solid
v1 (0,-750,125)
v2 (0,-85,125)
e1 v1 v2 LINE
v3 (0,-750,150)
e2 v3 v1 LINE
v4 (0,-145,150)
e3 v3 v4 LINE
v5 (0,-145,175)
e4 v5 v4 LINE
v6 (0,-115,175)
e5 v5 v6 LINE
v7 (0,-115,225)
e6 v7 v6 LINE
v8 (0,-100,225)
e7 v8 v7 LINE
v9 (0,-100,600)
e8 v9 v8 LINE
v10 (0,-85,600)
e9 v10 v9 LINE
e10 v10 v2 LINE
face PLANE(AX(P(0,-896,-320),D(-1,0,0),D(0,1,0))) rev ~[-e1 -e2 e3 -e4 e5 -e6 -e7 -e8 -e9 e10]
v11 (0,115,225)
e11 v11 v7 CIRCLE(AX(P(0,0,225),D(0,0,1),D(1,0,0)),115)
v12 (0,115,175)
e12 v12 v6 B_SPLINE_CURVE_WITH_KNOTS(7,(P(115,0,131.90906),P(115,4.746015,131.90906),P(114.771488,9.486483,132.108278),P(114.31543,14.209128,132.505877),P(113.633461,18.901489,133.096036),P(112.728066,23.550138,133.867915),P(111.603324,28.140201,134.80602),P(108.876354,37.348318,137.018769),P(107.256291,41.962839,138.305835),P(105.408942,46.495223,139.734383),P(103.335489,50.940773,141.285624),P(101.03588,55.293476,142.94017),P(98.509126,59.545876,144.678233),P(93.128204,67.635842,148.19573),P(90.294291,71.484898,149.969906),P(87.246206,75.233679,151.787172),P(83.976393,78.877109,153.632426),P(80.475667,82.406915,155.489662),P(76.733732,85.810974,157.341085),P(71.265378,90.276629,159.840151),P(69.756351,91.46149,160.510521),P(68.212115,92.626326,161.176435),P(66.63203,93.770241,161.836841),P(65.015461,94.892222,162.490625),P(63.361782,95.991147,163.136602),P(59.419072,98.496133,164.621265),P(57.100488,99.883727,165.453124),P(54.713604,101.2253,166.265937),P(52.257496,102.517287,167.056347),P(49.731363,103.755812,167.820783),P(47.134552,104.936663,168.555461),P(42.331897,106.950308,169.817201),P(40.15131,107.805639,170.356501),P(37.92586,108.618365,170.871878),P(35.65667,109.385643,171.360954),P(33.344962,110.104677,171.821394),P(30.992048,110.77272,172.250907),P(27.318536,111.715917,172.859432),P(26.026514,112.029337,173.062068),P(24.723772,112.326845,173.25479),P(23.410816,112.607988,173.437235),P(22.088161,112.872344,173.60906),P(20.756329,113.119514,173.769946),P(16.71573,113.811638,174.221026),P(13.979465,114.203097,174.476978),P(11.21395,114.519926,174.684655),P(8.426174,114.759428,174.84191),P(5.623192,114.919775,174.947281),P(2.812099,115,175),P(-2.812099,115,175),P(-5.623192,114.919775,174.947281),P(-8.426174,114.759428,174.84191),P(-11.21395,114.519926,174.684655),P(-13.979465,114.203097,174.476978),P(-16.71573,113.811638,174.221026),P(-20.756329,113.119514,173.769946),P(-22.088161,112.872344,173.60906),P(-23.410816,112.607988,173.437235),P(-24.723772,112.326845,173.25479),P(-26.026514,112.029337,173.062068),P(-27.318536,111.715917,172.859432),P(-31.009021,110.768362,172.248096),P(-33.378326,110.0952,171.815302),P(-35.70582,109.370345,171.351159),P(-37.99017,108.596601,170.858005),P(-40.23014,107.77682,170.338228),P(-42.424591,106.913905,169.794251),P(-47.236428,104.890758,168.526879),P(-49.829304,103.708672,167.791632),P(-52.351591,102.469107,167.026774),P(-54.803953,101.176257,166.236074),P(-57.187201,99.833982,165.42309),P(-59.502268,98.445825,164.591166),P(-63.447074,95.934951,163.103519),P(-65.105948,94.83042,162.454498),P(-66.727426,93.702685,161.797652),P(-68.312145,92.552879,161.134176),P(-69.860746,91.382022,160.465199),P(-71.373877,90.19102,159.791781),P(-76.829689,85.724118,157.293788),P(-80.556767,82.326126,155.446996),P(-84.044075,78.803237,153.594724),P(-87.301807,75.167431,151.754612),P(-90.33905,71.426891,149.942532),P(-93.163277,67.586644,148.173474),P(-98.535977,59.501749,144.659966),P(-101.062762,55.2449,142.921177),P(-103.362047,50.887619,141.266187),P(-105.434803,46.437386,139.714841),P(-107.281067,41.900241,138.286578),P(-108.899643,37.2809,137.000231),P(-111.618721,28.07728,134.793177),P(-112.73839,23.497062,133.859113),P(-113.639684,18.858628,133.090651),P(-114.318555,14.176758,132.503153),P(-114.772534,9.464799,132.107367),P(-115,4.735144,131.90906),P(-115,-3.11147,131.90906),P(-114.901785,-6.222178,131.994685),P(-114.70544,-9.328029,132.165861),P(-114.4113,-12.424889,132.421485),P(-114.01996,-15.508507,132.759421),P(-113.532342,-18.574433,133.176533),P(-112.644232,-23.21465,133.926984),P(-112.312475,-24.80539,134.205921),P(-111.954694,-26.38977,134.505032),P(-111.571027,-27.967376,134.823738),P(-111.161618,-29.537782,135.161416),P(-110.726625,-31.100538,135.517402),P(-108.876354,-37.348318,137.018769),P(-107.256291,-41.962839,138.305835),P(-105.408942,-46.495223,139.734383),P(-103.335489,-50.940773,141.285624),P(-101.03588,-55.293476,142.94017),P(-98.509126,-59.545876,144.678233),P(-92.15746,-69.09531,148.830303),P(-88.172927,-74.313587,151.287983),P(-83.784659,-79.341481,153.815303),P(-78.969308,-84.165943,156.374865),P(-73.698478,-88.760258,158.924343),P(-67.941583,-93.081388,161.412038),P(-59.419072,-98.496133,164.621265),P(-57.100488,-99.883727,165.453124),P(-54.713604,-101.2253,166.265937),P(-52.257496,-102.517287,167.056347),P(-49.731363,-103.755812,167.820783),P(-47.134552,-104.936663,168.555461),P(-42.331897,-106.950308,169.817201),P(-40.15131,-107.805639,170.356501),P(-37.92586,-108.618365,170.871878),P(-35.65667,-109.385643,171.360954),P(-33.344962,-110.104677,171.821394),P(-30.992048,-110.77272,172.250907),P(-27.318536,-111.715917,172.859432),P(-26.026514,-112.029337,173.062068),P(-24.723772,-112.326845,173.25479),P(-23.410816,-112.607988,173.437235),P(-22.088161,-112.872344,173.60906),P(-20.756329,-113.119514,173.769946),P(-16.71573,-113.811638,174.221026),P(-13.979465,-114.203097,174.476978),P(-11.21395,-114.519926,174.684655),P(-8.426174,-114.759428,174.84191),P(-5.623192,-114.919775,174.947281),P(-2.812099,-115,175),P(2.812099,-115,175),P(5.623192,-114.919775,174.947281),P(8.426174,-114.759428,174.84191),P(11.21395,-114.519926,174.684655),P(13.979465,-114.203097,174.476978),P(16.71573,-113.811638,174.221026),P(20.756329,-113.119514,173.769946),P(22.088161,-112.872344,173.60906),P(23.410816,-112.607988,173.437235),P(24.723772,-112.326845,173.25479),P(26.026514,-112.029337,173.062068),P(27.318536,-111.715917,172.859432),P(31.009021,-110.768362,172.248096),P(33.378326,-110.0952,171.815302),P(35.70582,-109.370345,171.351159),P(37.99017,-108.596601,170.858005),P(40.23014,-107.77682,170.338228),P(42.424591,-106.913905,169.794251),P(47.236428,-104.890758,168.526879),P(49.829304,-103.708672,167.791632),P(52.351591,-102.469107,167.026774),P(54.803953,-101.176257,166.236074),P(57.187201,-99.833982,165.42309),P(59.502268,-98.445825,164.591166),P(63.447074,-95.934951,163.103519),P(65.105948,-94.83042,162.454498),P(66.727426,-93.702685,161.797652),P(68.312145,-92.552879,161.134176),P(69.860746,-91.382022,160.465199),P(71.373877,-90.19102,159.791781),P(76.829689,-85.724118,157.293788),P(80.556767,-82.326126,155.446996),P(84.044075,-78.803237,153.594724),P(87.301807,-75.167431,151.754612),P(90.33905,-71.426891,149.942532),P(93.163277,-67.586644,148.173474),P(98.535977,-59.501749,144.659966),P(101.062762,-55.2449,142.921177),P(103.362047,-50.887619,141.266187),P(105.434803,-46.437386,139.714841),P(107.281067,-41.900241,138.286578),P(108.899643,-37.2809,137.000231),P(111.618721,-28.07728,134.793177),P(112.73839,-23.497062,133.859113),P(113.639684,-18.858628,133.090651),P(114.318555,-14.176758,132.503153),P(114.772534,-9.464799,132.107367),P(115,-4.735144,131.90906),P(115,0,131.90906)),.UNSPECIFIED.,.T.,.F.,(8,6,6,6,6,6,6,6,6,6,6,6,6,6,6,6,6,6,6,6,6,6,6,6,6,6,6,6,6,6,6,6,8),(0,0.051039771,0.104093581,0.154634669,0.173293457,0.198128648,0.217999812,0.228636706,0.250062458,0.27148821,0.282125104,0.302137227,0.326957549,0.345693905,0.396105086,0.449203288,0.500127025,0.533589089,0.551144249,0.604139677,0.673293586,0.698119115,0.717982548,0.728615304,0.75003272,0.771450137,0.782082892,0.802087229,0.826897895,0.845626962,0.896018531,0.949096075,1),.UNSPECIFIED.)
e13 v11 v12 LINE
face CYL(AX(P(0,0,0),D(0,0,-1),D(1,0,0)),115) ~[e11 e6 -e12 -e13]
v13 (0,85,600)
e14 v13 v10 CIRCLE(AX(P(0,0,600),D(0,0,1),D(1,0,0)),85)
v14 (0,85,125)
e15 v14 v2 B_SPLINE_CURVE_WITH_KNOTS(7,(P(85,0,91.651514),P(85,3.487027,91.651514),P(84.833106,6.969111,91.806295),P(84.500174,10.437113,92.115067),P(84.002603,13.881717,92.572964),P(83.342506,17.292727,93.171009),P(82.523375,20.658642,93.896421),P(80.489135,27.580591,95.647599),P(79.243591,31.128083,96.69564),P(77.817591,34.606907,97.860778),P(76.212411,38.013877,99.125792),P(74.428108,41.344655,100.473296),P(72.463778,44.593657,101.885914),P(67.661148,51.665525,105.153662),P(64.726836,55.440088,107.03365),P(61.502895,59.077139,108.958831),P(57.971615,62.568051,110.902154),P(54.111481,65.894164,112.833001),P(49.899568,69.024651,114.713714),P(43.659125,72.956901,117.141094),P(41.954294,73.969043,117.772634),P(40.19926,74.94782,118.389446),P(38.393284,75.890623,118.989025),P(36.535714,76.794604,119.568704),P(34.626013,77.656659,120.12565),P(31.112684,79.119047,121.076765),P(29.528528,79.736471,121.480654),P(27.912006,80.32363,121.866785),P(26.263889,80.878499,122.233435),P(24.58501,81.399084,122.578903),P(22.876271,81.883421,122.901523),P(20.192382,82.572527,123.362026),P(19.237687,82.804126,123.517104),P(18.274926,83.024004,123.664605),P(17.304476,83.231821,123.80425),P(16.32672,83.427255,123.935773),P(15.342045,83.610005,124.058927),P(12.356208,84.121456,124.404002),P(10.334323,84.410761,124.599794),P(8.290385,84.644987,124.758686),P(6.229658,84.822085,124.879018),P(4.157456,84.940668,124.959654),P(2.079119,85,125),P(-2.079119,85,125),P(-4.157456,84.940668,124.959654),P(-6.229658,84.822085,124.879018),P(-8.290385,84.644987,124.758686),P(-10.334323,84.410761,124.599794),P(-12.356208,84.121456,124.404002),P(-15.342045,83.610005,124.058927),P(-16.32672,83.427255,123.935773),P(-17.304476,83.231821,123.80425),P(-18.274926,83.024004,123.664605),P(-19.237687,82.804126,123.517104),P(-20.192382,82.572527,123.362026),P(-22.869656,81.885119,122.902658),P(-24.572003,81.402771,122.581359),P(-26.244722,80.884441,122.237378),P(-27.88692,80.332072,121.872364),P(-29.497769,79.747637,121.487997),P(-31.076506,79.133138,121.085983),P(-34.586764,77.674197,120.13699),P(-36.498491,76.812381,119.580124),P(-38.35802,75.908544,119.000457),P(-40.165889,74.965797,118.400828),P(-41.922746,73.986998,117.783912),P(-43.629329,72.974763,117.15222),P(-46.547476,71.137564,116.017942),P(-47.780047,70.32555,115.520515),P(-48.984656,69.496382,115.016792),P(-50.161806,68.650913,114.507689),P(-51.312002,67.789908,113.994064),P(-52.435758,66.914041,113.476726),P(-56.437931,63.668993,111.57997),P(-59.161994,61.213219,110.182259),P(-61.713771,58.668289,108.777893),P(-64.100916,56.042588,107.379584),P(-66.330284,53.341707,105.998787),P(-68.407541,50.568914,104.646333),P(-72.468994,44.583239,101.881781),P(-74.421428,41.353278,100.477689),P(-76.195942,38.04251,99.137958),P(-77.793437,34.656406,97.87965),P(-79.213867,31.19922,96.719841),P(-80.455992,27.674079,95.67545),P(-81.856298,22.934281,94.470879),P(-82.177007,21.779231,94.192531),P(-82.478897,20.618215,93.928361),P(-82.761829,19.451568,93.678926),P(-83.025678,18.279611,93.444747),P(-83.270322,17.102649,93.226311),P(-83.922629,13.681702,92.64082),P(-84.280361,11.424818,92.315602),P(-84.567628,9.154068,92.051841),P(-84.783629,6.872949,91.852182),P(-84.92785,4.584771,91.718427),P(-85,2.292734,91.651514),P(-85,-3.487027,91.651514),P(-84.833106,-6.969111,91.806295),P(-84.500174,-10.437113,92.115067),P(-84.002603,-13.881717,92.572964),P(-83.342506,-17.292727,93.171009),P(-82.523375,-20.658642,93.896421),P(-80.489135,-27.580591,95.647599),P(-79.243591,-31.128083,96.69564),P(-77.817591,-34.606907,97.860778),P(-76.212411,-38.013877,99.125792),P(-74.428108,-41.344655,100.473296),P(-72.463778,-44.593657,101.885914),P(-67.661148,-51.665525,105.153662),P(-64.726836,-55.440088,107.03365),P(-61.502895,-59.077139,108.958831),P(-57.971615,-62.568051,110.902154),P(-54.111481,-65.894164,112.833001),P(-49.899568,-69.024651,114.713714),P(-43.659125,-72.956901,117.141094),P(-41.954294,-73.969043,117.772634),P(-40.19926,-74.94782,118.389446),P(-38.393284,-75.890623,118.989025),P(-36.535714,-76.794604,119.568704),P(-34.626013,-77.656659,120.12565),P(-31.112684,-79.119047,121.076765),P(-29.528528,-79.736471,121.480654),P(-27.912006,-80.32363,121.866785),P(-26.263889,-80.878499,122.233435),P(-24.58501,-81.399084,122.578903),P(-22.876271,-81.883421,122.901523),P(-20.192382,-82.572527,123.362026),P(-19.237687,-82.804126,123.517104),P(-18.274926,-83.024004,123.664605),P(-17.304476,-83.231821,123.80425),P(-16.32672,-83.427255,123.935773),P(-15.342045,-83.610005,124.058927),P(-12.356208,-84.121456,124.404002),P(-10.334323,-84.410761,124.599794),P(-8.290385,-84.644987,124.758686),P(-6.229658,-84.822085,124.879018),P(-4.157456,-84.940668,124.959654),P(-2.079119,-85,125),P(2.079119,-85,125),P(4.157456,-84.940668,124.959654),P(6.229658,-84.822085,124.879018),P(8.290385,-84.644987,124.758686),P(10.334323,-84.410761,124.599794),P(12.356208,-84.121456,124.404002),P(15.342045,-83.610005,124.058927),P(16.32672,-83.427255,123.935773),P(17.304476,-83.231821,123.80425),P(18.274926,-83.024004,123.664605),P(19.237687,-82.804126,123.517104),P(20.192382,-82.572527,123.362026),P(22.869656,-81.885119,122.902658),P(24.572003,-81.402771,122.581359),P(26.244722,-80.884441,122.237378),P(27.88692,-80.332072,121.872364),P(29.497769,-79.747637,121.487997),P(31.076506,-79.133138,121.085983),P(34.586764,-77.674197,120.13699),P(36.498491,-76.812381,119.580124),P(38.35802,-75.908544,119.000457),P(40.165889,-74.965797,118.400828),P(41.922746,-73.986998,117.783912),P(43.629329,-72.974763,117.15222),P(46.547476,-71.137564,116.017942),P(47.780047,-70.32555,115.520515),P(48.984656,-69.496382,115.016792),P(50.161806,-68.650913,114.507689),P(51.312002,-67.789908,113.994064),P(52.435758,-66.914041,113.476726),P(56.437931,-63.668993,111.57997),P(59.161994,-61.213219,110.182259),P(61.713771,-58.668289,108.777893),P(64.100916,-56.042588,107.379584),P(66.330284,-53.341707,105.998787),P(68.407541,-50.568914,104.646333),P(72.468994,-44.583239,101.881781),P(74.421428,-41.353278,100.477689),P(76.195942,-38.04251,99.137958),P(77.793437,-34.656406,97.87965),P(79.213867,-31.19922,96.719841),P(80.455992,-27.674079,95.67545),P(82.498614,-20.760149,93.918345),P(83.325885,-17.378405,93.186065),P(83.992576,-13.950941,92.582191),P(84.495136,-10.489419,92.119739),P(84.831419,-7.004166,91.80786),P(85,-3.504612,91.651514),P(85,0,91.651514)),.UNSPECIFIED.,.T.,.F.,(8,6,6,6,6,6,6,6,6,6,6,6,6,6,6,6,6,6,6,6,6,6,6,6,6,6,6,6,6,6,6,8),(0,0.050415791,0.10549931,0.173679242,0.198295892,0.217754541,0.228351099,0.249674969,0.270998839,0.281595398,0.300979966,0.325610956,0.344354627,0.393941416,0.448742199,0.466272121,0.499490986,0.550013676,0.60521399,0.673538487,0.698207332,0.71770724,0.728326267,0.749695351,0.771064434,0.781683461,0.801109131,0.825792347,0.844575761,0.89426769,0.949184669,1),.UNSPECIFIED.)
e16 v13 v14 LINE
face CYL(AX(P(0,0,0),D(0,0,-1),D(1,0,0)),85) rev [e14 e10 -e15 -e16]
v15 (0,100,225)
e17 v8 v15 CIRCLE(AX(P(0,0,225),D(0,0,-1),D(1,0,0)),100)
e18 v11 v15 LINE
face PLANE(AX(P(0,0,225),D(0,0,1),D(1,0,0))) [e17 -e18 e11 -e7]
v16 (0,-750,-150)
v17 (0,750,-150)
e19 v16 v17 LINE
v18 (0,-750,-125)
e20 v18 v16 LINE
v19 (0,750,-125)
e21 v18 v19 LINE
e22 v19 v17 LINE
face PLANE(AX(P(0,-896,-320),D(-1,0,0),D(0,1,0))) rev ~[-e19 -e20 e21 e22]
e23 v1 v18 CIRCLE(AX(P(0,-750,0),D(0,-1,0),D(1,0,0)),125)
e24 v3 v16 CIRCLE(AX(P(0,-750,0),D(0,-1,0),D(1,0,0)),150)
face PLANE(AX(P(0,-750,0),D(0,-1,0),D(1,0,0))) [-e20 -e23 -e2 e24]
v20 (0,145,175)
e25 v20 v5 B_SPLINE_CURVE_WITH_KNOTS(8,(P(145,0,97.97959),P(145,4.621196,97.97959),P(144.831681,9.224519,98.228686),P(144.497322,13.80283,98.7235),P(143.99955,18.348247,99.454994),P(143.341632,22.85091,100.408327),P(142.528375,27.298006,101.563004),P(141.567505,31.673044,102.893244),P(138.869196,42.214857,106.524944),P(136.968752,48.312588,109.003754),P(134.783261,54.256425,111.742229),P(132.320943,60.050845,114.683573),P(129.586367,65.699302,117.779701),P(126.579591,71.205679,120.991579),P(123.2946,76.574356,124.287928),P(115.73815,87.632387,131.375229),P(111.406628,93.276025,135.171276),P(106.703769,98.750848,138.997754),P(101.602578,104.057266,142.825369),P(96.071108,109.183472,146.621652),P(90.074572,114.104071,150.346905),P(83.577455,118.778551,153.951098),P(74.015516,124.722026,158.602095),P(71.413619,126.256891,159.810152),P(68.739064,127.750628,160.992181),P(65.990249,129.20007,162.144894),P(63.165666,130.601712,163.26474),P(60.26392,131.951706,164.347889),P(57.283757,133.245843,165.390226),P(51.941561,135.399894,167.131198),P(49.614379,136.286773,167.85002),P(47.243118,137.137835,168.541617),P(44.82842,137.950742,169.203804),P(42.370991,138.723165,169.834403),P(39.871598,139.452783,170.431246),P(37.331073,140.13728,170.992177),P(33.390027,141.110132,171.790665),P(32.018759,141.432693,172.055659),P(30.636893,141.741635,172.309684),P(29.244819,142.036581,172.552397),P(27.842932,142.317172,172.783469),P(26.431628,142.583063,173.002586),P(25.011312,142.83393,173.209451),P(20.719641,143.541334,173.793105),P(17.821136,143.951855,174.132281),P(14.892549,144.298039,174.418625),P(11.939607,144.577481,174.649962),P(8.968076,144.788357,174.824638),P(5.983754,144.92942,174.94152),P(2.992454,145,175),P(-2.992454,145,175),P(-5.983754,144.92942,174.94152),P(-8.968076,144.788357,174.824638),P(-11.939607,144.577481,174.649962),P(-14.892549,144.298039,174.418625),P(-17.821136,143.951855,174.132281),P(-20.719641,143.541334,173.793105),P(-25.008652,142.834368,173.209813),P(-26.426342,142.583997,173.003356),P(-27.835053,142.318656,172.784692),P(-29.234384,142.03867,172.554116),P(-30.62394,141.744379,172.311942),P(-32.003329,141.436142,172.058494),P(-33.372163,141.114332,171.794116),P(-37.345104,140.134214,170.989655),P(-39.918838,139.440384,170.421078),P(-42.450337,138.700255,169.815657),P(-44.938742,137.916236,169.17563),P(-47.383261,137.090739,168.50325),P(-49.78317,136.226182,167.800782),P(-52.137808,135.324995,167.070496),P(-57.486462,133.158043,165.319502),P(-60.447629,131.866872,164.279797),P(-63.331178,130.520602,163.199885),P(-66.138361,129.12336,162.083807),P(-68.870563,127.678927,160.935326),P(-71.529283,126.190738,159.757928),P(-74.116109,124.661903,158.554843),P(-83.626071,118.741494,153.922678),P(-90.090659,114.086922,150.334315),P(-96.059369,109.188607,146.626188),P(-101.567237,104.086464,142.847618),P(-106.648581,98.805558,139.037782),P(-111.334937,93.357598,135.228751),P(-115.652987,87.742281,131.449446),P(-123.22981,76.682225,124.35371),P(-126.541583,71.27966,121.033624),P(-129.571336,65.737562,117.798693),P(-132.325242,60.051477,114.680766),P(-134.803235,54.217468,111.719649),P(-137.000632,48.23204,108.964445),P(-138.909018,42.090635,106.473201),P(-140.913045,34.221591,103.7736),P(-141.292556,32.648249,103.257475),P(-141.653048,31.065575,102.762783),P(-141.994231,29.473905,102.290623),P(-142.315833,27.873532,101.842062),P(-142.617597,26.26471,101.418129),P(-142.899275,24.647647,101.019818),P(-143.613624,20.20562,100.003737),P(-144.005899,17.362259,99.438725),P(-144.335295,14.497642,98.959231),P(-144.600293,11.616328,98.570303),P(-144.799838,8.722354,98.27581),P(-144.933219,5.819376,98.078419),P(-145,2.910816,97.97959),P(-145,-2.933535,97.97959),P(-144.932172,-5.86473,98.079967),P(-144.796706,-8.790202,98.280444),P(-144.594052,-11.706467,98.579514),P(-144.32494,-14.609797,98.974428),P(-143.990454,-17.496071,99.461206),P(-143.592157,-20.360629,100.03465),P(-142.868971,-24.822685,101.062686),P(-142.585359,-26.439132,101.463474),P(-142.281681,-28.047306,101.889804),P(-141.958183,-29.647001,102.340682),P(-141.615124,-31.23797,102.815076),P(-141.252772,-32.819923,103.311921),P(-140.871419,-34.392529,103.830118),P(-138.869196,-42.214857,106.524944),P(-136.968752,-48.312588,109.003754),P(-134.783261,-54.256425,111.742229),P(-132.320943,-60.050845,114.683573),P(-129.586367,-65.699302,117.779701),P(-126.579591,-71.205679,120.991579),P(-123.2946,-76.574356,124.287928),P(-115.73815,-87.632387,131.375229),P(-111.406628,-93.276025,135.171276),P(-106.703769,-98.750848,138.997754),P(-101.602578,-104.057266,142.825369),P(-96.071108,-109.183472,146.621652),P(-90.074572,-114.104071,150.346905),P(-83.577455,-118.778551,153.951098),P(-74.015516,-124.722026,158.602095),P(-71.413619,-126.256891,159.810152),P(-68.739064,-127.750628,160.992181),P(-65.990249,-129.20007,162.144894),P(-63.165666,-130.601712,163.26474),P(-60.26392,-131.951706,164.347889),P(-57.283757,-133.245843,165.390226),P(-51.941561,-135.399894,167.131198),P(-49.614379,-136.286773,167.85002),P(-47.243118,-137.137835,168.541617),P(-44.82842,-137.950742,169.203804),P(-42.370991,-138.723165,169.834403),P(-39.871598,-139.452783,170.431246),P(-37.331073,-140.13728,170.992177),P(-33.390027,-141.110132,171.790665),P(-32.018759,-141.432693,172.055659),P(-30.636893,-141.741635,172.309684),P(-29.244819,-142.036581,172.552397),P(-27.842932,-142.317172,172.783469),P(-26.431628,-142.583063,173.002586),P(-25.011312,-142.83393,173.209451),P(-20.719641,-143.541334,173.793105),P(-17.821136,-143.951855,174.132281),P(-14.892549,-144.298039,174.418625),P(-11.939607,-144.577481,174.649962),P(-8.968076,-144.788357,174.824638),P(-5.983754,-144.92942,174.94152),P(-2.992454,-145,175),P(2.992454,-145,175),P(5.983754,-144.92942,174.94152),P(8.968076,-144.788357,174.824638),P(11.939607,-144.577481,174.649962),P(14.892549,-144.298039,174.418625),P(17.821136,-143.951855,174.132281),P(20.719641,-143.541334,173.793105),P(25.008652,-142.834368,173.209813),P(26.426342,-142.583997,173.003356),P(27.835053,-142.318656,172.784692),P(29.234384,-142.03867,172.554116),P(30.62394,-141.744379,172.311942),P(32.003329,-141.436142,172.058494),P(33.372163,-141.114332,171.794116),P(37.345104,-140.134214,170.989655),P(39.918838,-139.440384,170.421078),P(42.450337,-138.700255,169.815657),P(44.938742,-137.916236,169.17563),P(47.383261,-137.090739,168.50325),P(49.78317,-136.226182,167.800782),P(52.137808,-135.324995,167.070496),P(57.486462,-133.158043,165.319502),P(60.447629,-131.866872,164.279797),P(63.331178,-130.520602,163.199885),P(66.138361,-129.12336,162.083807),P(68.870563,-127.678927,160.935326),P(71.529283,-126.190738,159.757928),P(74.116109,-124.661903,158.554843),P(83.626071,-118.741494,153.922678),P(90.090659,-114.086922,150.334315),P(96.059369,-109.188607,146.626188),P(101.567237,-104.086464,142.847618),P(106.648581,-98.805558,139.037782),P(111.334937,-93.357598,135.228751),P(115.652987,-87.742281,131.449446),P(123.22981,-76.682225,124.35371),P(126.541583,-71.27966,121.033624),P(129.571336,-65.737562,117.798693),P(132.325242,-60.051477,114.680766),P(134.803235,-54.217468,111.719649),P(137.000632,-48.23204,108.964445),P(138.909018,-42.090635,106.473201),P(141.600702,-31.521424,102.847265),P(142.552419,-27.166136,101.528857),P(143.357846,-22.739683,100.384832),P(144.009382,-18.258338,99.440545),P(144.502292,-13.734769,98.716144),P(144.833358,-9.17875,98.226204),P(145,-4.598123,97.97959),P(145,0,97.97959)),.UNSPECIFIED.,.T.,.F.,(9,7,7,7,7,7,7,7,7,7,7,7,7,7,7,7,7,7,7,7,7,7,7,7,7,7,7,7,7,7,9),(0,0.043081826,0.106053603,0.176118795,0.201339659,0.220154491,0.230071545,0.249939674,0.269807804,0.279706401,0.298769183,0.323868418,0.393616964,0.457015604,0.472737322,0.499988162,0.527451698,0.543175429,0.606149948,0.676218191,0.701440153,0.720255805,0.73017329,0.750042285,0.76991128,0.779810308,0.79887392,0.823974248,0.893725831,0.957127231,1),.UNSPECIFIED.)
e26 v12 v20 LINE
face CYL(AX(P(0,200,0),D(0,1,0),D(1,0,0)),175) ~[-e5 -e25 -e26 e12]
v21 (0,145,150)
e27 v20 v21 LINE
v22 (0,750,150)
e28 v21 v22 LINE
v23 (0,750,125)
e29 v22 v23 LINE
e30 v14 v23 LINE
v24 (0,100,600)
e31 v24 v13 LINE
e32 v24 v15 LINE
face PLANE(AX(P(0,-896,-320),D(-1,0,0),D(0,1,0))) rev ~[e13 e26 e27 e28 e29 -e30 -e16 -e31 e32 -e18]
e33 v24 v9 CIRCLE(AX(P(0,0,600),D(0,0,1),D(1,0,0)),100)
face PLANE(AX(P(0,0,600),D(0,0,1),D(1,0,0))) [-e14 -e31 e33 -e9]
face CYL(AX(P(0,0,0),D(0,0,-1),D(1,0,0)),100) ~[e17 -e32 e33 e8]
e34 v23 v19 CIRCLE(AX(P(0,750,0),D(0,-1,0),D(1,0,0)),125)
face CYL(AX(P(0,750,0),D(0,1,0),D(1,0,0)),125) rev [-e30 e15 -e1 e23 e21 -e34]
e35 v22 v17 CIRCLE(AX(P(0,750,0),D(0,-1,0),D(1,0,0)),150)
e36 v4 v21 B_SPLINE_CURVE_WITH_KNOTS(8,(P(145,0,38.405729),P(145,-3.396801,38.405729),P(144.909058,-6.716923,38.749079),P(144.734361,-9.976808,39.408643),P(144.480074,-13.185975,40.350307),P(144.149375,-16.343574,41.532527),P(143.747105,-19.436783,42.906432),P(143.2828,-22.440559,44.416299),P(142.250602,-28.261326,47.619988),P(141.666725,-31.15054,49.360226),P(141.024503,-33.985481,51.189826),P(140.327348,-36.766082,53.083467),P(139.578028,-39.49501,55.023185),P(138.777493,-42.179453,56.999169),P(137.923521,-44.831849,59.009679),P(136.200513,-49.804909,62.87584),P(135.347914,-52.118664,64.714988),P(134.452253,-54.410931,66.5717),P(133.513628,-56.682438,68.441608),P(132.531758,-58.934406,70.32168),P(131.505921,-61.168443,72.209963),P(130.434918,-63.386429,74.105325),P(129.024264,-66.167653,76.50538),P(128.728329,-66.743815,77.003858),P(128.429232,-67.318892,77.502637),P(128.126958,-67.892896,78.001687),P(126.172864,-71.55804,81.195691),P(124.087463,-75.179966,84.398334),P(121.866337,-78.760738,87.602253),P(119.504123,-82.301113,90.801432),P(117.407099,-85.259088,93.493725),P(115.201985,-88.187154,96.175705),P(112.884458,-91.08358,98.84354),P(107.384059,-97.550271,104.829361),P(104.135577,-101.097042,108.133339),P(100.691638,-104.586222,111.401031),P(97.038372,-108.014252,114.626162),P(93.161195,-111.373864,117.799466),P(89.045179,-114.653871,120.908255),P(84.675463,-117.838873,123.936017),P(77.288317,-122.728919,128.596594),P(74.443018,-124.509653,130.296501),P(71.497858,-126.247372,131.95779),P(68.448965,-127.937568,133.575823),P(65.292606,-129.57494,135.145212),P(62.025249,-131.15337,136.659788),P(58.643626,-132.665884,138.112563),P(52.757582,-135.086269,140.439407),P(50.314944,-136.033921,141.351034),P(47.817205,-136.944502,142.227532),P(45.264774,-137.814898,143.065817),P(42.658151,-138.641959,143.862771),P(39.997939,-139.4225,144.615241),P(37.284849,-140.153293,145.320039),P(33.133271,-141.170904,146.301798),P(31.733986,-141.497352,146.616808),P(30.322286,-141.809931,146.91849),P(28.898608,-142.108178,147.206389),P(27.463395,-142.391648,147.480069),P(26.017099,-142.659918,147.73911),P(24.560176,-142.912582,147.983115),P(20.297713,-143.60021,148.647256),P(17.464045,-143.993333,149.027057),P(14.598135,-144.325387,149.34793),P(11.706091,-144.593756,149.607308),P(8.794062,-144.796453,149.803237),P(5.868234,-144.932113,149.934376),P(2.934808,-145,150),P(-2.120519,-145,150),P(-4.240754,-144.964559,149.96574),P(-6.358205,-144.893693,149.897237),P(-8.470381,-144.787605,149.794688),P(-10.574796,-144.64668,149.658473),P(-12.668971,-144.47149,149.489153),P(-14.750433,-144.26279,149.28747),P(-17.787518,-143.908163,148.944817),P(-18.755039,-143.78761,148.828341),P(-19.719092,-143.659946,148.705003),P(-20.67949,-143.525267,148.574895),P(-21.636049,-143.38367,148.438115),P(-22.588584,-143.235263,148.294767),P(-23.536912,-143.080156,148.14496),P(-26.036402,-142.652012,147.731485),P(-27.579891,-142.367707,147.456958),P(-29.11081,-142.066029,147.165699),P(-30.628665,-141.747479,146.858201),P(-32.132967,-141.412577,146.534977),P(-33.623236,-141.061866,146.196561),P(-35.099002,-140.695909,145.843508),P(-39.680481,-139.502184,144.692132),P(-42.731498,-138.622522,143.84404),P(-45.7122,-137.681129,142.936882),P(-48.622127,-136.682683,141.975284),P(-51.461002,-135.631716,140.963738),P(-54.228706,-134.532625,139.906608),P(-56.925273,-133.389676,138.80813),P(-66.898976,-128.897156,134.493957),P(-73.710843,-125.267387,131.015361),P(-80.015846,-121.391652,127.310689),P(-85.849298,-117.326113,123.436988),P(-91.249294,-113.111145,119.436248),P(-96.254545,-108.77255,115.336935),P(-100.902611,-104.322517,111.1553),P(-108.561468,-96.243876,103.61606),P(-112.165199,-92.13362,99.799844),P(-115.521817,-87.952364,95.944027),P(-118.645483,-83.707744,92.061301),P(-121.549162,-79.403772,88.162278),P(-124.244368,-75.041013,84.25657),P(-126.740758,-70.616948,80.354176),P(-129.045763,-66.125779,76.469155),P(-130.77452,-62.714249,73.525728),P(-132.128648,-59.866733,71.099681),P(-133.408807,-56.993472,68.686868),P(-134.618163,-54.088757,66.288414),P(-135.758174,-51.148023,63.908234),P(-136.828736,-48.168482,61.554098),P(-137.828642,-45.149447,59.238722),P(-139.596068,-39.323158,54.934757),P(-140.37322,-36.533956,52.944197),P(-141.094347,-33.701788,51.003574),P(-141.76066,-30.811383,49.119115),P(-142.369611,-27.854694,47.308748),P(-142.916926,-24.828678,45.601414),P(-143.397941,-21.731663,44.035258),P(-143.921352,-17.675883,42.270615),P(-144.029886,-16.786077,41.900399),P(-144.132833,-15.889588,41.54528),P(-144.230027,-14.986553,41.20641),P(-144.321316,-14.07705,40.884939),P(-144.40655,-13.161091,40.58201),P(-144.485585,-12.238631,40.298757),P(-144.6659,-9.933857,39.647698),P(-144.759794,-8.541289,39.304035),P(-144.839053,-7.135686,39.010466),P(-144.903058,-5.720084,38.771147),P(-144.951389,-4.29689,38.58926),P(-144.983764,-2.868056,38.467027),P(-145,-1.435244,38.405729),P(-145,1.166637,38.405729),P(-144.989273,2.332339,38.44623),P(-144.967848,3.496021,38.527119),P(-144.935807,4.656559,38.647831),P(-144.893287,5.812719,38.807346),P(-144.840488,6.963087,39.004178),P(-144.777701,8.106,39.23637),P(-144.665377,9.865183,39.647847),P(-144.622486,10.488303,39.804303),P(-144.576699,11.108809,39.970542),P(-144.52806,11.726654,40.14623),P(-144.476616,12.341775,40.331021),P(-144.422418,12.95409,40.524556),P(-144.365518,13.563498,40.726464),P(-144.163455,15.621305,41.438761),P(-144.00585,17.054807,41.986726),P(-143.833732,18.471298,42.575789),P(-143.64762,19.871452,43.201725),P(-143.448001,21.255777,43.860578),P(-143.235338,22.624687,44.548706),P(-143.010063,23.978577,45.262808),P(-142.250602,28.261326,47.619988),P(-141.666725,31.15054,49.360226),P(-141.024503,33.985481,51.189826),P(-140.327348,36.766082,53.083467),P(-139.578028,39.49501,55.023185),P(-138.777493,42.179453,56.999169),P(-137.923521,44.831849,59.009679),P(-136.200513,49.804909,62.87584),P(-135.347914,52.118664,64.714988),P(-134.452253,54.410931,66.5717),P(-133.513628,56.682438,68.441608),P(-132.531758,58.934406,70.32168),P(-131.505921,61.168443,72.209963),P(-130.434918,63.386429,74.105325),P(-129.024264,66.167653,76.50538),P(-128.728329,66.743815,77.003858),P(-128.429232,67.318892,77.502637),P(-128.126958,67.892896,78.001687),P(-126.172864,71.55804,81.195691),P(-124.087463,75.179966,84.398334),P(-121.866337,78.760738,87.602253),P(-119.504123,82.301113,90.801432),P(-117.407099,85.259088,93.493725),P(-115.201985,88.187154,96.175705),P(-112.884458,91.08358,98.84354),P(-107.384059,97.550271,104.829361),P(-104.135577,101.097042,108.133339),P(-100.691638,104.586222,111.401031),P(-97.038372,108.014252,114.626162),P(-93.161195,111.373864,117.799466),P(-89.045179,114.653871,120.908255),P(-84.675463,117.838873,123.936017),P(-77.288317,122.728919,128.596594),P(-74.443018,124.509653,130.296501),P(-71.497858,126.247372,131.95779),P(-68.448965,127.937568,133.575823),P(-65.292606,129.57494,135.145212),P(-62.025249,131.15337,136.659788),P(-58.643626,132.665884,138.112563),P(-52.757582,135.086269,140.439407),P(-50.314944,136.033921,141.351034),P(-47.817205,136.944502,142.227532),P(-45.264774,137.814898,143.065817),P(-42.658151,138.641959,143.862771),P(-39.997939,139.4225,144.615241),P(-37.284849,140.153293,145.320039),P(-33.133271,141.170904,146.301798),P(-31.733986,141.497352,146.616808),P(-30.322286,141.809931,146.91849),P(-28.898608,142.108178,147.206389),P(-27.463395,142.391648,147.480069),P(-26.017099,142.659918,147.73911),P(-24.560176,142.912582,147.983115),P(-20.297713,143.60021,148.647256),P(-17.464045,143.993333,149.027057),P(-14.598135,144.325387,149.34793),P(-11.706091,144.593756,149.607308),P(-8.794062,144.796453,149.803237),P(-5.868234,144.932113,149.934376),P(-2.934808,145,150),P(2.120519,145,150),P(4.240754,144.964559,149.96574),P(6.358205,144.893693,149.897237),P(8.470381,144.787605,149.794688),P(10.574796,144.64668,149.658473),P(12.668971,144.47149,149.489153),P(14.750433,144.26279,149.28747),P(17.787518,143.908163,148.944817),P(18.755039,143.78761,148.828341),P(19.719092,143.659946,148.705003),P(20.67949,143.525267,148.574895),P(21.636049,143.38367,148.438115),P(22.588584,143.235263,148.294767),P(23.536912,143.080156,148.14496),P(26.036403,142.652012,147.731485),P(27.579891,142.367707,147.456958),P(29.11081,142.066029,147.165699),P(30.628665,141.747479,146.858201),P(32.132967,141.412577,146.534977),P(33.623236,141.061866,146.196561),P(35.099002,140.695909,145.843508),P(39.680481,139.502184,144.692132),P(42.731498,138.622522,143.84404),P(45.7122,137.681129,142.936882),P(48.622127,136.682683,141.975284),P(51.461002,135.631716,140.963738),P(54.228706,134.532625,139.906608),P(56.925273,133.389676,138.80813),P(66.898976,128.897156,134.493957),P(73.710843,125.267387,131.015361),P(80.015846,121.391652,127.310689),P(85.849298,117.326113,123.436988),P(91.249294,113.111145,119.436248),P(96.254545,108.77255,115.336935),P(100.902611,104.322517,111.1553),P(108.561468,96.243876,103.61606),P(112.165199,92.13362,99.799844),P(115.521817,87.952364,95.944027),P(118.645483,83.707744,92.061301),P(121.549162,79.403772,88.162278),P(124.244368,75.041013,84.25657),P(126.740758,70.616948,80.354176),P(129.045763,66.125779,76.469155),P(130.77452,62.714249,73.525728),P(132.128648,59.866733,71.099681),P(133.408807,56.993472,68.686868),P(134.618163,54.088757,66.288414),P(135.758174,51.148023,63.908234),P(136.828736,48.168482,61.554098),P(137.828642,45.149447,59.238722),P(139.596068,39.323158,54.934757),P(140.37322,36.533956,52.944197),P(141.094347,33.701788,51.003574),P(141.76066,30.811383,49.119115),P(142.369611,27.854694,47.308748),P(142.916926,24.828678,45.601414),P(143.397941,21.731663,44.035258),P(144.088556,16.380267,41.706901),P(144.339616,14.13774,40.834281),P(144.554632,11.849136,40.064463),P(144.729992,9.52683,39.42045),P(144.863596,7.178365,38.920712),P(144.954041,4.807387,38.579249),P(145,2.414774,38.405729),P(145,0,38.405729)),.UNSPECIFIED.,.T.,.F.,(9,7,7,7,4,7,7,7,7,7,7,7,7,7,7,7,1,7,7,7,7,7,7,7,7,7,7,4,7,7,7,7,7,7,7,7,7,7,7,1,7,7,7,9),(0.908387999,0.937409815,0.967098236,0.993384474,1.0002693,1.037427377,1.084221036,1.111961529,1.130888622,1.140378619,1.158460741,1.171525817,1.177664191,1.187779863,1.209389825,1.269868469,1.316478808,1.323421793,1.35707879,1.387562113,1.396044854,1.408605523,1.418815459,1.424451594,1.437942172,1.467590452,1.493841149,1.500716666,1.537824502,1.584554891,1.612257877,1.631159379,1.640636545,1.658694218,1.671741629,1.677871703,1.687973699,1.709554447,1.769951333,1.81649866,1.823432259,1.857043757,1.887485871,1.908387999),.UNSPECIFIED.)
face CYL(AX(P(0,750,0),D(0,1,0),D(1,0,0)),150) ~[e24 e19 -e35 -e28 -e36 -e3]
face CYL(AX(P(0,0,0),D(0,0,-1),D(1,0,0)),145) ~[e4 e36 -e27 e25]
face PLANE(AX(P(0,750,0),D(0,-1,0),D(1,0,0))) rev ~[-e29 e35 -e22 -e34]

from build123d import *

# Parameters (mm, degrees)
BOX003_W               = 500
BOX003_H               = 1700
BOX003_DEPTH           = 1000
CYLINDER013_R          = 125
CYLINDER013_DEPTH      = 1500
CYLINDER013_ROLL_ANGLE = 90
BOX002_W               = 500
BOX002_H               = 500
BOX002_DEPTH           = 300
CYLINDER012_R          = 150
CYLINDER012_DEPTH      = 140
CYLINDER012_ROLL_ANGLE = 90
BOX001_W               = 500
BOX001_H               = 500
BOX001_DEPTH           = 300
CYLINDER011_R          = 150
CYLINDER011_DEPTH      = 80
CYLINDER011_ROLL_ANGLE = 90
CYLINDER010_R          = 150
CYLINDER010_DEPTH      = 80
CYLINDER010_ROLL_ANGLE = 90
CYLINDER009_R          = 150
CYLINDER009_DEPTH      = 100
CYLINDER009_ROLL_ANGLE = 90
CYLINDER007_R          = 125
CYLINDER007_DEPTH      = 1500
CYLINDER007_ROLL_ANGLE = 90
CYLINDER006_R          = 85
CYLINDER006_DEPTH      = 600
CYLINDER002_R          = 115
CYLINDER002_DEPTH      = 225
CYLINDER001_R          = 150
CYLINDER001_DEPTH      = 1500
CYLINDER001_ROLL_ANGLE = 90
CYLINDER_R             = 100
CYLINDER_DEPTH         = 600
BOX_W                  = 500
BOX_H                  = 500
BOX_DEPTH              = 500
CYLINDER004_R          = 145
CYLINDER004_DEPTH      = 600
CYLINDER005_R          = 300
CYLINDER005_DEPTH      = 600
CYLINDER003_R          = 175
CYLINDER003_DEPTH      = 400
CYLINDER003_ROLL_ANGLE = 90
CYLINDER008_R          = 150
CYLINDER008_DEPTH      = 100
CYLINDER008_ROLL_ANGLE = 90


with BuildPart() as cube003:
    # Box003 → Box003 (new body)
    with BuildSketch(Plane(origin=(0, -896, -320), x_dir=(1, 0, 0), z_dir=(0, 0, 1))):
        with Locations((250, 850)):
            Rectangle(BOX003_W, BOX003_H)
    extrude(amount=BOX003_DEPTH)


with BuildPart() as cylinder013:
    # Cylinder013 → Cylinder013 (new body)
    with BuildSketch(Plane.XY):
        Circle(CYLINDER013_R)
    extrude(amount=CYLINDER013_DEPTH)


with BuildPart() as cylinder013_1:
    # Cylinder013 roll: moved
    add(cylinder013.part.rotate(Axis((0, 0, 0), (1, 0, 0)), CYLINDER013_ROLL_ANGLE))


with BuildPart() as cylinder013_2:
    # Cylinder013 placement: moved
    add(cylinder013_1.part.moved(Location((0, 750, 0))))


with BuildPart() as cube002:
    # Box002 → Box002 (new body)
    with BuildSketch(Plane(origin=(-250, -250, 38), x_dir=(1, 0, 0), z_dir=(0, 0, 1))):
        with Locations((250, 250)):
            Rectangle(BOX002_W, BOX002_H)
    extrude(amount=BOX002_DEPTH)


with BuildPart() as cut006:
    # Cylinder012 → Cylinder012 (new body)
    with BuildSketch(Plane.XY):
        Circle(CYLINDER012_R)
    extrude(amount=CYLINDER012_DEPTH)


with BuildPart() as cut006_1:
    # Cylinder012 roll: moved
    add(cut006.part.rotate(Axis((0, 0, 0), (1, 0, 0)), CYLINDER012_ROLL_ANGLE))


with BuildPart() as cut006_2:
    # Cylinder012 placement: moved
    add(cut006_1.part.moved(Location((0, 70, 0))))

    # Cut006: cut Cube002
    add(cube002.part, mode=Mode.SUBTRACT)


with BuildPart() as cube001:
    # Box001 → Box001 (new body)
    with BuildSketch(Plane(origin=(-250, -250, 80), x_dir=(1, 0, 0), z_dir=(0, 0, 1))):
        with Locations((250, 250)):
            Rectangle(BOX001_W, BOX001_H)
    extrude(amount=BOX001_DEPTH)


with BuildPart() as cylinder011:
    # Cylinder011 → Cylinder011 (new body)
    with BuildSketch(Plane.XY):
        Circle(CYLINDER011_R)
    extrude(amount=CYLINDER011_DEPTH)


with BuildPart() as cylinder011_1:
    # Cylinder011 roll: moved
    add(cylinder011.part.rotate(Axis((0, 0, 0), (1, 0, 0)), CYLINDER011_ROLL_ANGLE))


with BuildPart() as cylinder011_2:
    # Cylinder011 placement: moved
    add(cylinder011_1.part.moved(Location((0, 150, 0))))


with BuildPart() as cut005:
    # Cylinder010 → Cylinder010 (new body)
    with BuildSketch(Plane.XY):
        Circle(CYLINDER010_R)
    extrude(amount=CYLINDER010_DEPTH)


with BuildPart() as cut005_1:
    # Cylinder010 roll: moved
    add(cut005.part.rotate(Axis((0, 0, 0), (1, 0, 0)), CYLINDER010_ROLL_ANGLE))


with BuildPart() as cut005_2:
    # Cylinder010 placement: moved
    add(cut005_1.part.moved(Location((0, -70, 0))))

    # Fusion002: union Cylinder011
    add(cylinder011_2.part)

    # Cut005: cut Cube001
    add(cube001.part, mode=Mode.SUBTRACT)


with BuildPart() as cylinder009:
    # Cylinder009 → Cylinder009 (new body)
    with BuildSketch(Plane.XY):
        Circle(CYLINDER009_R)
    extrude(amount=CYLINDER009_DEPTH)


with BuildPart() as cylinder009_1:
    # Cylinder009 roll: moved
    add(cylinder009.part.rotate(Axis((0, 0, 0), (1, 0, 0)), CYLINDER009_ROLL_ANGLE))


with BuildPart() as cylinder009_2:
    # Cylinder009 placement: moved
    add(cylinder009_1.part.moved(Location((0, 250, 0))))


with BuildPart() as cylinder007:
    # Cylinder007 → Cylinder007 (new body)
    with BuildSketch(Plane.XY):
        Circle(CYLINDER007_R)
    extrude(amount=CYLINDER007_DEPTH)


with BuildPart() as cylinder007_1:
    # Cylinder007 roll: moved
    add(cylinder007.part.rotate(Axis((0, 0, 0), (1, 0, 0)), CYLINDER007_ROLL_ANGLE))


with BuildPart() as cylinder007_2:
    # Cylinder007 placement: moved
    add(cylinder007_1.part.moved(Location((0, 750, 0))))


with BuildPart() as cylinder006:
    # Cylinder006 → Cylinder006 (new body)
    with BuildSketch(Plane.XY):
        Circle(CYLINDER006_R)
    extrude(amount=CYLINDER006_DEPTH)


with BuildPart() as cylinder002:
    # Cylinder002 → Cylinder002 (new body)
    with BuildSketch(Plane.XY):
        Circle(CYLINDER002_R)
    extrude(amount=CYLINDER002_DEPTH)


with BuildPart() as cylinder001:
    # Cylinder001 → Cylinder001 (new body)
    with BuildSketch(Plane.XY):
        Circle(CYLINDER001_R)
    extrude(amount=CYLINDER001_DEPTH)


with BuildPart() as cylinder001_1:
    # Cylinder001 roll: moved
    add(cylinder001.part.rotate(Axis((0, 0, 0), (1, 0, 0)), CYLINDER001_ROLL_ANGLE))


with BuildPart() as cylinder001_2:
    # Cylinder001 placement: moved
    add(cylinder001_1.part.moved(Location((0, 750, 0))))


with BuildPart() as cylinder:
    # Cylinder → Cylinder (new body)
    with BuildSketch(Plane.XY):
        Circle(CYLINDER_R)
    extrude(amount=CYLINDER_DEPTH)


with BuildPart() as cube:
    # Box → Box (new body)
    with BuildSketch(Plane(origin=(-226, -279, -480), x_dir=(1, 0, 0), z_dir=(0, 0, 1))):
        with Locations((250, 250)):
            Rectangle(BOX_W, BOX_H)
    extrude(amount=BOX_DEPTH)


with BuildPart() as cylinder004:
    # Cylinder004 → Cylinder004 (new body)
    with BuildSketch(Plane.XY):
        Circle(CYLINDER004_R)
    extrude(amount=CYLINDER004_DEPTH)


with BuildPart() as cut:
    # Cylinder005 → Cylinder005 (new body)
    with BuildSketch(Plane.XY):
        Circle(CYLINDER005_R)
    extrude(amount=CYLINDER005_DEPTH)

    # Cut: cut Cylinder004
    add(cylinder004.part, mode=Mode.SUBTRACT)


with BuildPart() as cut004:
    # Cylinder003 → Cylinder003 (new body)
    with BuildSketch(Plane.XY):
        Circle(CYLINDER003_R)
    extrude(amount=CYLINDER003_DEPTH)


with BuildPart() as cut004_1:
    # Cylinder003 roll: moved
    add(cut004.part.rotate(Axis((0, 0, 0), (1, 0, 0)), CYLINDER003_ROLL_ANGLE))


with BuildPart() as cut004_2:
    # Cylinder003 placement: moved
    add(cut004_1.part.moved(Location((0, 200, 0))))

    # Cut001: cut Cut
    add(cut.part, mode=Mode.SUBTRACT)

    # Cut002: cut Cube
    add(cube.part, mode=Mode.SUBTRACT)

    # Fusion: union Cylinder002, Cylinder001, Cylinder
    add(cylinder002.part)
    add(cylinder001_2.part)
    add(cylinder.part)

    # Cut003: cut Cylinder006
    add(cylinder006.part, mode=Mode.SUBTRACT)

    # Cut004: cut Cylinder007
    add(cylinder007_2.part, mode=Mode.SUBTRACT)


with BuildPart() as cut008:
    # Cylinder008 → Cylinder008 (new body)
    with BuildSketch(Plane.XY):
        Circle(CYLINDER008_R)
    extrude(amount=CYLINDER008_DEPTH)


with BuildPart() as cut008_1:
    # Cylinder008 roll: moved
    add(cut008.part.rotate(Axis((0, 0, 0), (1, 0, 0)), CYLINDER008_ROLL_ANGLE))


with BuildPart() as cut008_2:
    # Cylinder008 placement: moved
    add(cut008_1.part.moved(Location((0, -150, 0))))

    # Fusion001: union Cylinder009, Cut004
    add(cylinder009_2.part)
    add(cut004_2.part)

    # Fusion003: union Cut005
    add(cut005_2.part)

    # Fusion004: union Cut006
    add(cut006_2.part)

    # Cut007: cut Cylinder013
    add(cylinder013_2.part, mode=Mode.SUBTRACT)

    # Cut008: cut Cube003
    add(cube003.part, mode=Mode.SUBTRACT)


solid = cut008_2.part
